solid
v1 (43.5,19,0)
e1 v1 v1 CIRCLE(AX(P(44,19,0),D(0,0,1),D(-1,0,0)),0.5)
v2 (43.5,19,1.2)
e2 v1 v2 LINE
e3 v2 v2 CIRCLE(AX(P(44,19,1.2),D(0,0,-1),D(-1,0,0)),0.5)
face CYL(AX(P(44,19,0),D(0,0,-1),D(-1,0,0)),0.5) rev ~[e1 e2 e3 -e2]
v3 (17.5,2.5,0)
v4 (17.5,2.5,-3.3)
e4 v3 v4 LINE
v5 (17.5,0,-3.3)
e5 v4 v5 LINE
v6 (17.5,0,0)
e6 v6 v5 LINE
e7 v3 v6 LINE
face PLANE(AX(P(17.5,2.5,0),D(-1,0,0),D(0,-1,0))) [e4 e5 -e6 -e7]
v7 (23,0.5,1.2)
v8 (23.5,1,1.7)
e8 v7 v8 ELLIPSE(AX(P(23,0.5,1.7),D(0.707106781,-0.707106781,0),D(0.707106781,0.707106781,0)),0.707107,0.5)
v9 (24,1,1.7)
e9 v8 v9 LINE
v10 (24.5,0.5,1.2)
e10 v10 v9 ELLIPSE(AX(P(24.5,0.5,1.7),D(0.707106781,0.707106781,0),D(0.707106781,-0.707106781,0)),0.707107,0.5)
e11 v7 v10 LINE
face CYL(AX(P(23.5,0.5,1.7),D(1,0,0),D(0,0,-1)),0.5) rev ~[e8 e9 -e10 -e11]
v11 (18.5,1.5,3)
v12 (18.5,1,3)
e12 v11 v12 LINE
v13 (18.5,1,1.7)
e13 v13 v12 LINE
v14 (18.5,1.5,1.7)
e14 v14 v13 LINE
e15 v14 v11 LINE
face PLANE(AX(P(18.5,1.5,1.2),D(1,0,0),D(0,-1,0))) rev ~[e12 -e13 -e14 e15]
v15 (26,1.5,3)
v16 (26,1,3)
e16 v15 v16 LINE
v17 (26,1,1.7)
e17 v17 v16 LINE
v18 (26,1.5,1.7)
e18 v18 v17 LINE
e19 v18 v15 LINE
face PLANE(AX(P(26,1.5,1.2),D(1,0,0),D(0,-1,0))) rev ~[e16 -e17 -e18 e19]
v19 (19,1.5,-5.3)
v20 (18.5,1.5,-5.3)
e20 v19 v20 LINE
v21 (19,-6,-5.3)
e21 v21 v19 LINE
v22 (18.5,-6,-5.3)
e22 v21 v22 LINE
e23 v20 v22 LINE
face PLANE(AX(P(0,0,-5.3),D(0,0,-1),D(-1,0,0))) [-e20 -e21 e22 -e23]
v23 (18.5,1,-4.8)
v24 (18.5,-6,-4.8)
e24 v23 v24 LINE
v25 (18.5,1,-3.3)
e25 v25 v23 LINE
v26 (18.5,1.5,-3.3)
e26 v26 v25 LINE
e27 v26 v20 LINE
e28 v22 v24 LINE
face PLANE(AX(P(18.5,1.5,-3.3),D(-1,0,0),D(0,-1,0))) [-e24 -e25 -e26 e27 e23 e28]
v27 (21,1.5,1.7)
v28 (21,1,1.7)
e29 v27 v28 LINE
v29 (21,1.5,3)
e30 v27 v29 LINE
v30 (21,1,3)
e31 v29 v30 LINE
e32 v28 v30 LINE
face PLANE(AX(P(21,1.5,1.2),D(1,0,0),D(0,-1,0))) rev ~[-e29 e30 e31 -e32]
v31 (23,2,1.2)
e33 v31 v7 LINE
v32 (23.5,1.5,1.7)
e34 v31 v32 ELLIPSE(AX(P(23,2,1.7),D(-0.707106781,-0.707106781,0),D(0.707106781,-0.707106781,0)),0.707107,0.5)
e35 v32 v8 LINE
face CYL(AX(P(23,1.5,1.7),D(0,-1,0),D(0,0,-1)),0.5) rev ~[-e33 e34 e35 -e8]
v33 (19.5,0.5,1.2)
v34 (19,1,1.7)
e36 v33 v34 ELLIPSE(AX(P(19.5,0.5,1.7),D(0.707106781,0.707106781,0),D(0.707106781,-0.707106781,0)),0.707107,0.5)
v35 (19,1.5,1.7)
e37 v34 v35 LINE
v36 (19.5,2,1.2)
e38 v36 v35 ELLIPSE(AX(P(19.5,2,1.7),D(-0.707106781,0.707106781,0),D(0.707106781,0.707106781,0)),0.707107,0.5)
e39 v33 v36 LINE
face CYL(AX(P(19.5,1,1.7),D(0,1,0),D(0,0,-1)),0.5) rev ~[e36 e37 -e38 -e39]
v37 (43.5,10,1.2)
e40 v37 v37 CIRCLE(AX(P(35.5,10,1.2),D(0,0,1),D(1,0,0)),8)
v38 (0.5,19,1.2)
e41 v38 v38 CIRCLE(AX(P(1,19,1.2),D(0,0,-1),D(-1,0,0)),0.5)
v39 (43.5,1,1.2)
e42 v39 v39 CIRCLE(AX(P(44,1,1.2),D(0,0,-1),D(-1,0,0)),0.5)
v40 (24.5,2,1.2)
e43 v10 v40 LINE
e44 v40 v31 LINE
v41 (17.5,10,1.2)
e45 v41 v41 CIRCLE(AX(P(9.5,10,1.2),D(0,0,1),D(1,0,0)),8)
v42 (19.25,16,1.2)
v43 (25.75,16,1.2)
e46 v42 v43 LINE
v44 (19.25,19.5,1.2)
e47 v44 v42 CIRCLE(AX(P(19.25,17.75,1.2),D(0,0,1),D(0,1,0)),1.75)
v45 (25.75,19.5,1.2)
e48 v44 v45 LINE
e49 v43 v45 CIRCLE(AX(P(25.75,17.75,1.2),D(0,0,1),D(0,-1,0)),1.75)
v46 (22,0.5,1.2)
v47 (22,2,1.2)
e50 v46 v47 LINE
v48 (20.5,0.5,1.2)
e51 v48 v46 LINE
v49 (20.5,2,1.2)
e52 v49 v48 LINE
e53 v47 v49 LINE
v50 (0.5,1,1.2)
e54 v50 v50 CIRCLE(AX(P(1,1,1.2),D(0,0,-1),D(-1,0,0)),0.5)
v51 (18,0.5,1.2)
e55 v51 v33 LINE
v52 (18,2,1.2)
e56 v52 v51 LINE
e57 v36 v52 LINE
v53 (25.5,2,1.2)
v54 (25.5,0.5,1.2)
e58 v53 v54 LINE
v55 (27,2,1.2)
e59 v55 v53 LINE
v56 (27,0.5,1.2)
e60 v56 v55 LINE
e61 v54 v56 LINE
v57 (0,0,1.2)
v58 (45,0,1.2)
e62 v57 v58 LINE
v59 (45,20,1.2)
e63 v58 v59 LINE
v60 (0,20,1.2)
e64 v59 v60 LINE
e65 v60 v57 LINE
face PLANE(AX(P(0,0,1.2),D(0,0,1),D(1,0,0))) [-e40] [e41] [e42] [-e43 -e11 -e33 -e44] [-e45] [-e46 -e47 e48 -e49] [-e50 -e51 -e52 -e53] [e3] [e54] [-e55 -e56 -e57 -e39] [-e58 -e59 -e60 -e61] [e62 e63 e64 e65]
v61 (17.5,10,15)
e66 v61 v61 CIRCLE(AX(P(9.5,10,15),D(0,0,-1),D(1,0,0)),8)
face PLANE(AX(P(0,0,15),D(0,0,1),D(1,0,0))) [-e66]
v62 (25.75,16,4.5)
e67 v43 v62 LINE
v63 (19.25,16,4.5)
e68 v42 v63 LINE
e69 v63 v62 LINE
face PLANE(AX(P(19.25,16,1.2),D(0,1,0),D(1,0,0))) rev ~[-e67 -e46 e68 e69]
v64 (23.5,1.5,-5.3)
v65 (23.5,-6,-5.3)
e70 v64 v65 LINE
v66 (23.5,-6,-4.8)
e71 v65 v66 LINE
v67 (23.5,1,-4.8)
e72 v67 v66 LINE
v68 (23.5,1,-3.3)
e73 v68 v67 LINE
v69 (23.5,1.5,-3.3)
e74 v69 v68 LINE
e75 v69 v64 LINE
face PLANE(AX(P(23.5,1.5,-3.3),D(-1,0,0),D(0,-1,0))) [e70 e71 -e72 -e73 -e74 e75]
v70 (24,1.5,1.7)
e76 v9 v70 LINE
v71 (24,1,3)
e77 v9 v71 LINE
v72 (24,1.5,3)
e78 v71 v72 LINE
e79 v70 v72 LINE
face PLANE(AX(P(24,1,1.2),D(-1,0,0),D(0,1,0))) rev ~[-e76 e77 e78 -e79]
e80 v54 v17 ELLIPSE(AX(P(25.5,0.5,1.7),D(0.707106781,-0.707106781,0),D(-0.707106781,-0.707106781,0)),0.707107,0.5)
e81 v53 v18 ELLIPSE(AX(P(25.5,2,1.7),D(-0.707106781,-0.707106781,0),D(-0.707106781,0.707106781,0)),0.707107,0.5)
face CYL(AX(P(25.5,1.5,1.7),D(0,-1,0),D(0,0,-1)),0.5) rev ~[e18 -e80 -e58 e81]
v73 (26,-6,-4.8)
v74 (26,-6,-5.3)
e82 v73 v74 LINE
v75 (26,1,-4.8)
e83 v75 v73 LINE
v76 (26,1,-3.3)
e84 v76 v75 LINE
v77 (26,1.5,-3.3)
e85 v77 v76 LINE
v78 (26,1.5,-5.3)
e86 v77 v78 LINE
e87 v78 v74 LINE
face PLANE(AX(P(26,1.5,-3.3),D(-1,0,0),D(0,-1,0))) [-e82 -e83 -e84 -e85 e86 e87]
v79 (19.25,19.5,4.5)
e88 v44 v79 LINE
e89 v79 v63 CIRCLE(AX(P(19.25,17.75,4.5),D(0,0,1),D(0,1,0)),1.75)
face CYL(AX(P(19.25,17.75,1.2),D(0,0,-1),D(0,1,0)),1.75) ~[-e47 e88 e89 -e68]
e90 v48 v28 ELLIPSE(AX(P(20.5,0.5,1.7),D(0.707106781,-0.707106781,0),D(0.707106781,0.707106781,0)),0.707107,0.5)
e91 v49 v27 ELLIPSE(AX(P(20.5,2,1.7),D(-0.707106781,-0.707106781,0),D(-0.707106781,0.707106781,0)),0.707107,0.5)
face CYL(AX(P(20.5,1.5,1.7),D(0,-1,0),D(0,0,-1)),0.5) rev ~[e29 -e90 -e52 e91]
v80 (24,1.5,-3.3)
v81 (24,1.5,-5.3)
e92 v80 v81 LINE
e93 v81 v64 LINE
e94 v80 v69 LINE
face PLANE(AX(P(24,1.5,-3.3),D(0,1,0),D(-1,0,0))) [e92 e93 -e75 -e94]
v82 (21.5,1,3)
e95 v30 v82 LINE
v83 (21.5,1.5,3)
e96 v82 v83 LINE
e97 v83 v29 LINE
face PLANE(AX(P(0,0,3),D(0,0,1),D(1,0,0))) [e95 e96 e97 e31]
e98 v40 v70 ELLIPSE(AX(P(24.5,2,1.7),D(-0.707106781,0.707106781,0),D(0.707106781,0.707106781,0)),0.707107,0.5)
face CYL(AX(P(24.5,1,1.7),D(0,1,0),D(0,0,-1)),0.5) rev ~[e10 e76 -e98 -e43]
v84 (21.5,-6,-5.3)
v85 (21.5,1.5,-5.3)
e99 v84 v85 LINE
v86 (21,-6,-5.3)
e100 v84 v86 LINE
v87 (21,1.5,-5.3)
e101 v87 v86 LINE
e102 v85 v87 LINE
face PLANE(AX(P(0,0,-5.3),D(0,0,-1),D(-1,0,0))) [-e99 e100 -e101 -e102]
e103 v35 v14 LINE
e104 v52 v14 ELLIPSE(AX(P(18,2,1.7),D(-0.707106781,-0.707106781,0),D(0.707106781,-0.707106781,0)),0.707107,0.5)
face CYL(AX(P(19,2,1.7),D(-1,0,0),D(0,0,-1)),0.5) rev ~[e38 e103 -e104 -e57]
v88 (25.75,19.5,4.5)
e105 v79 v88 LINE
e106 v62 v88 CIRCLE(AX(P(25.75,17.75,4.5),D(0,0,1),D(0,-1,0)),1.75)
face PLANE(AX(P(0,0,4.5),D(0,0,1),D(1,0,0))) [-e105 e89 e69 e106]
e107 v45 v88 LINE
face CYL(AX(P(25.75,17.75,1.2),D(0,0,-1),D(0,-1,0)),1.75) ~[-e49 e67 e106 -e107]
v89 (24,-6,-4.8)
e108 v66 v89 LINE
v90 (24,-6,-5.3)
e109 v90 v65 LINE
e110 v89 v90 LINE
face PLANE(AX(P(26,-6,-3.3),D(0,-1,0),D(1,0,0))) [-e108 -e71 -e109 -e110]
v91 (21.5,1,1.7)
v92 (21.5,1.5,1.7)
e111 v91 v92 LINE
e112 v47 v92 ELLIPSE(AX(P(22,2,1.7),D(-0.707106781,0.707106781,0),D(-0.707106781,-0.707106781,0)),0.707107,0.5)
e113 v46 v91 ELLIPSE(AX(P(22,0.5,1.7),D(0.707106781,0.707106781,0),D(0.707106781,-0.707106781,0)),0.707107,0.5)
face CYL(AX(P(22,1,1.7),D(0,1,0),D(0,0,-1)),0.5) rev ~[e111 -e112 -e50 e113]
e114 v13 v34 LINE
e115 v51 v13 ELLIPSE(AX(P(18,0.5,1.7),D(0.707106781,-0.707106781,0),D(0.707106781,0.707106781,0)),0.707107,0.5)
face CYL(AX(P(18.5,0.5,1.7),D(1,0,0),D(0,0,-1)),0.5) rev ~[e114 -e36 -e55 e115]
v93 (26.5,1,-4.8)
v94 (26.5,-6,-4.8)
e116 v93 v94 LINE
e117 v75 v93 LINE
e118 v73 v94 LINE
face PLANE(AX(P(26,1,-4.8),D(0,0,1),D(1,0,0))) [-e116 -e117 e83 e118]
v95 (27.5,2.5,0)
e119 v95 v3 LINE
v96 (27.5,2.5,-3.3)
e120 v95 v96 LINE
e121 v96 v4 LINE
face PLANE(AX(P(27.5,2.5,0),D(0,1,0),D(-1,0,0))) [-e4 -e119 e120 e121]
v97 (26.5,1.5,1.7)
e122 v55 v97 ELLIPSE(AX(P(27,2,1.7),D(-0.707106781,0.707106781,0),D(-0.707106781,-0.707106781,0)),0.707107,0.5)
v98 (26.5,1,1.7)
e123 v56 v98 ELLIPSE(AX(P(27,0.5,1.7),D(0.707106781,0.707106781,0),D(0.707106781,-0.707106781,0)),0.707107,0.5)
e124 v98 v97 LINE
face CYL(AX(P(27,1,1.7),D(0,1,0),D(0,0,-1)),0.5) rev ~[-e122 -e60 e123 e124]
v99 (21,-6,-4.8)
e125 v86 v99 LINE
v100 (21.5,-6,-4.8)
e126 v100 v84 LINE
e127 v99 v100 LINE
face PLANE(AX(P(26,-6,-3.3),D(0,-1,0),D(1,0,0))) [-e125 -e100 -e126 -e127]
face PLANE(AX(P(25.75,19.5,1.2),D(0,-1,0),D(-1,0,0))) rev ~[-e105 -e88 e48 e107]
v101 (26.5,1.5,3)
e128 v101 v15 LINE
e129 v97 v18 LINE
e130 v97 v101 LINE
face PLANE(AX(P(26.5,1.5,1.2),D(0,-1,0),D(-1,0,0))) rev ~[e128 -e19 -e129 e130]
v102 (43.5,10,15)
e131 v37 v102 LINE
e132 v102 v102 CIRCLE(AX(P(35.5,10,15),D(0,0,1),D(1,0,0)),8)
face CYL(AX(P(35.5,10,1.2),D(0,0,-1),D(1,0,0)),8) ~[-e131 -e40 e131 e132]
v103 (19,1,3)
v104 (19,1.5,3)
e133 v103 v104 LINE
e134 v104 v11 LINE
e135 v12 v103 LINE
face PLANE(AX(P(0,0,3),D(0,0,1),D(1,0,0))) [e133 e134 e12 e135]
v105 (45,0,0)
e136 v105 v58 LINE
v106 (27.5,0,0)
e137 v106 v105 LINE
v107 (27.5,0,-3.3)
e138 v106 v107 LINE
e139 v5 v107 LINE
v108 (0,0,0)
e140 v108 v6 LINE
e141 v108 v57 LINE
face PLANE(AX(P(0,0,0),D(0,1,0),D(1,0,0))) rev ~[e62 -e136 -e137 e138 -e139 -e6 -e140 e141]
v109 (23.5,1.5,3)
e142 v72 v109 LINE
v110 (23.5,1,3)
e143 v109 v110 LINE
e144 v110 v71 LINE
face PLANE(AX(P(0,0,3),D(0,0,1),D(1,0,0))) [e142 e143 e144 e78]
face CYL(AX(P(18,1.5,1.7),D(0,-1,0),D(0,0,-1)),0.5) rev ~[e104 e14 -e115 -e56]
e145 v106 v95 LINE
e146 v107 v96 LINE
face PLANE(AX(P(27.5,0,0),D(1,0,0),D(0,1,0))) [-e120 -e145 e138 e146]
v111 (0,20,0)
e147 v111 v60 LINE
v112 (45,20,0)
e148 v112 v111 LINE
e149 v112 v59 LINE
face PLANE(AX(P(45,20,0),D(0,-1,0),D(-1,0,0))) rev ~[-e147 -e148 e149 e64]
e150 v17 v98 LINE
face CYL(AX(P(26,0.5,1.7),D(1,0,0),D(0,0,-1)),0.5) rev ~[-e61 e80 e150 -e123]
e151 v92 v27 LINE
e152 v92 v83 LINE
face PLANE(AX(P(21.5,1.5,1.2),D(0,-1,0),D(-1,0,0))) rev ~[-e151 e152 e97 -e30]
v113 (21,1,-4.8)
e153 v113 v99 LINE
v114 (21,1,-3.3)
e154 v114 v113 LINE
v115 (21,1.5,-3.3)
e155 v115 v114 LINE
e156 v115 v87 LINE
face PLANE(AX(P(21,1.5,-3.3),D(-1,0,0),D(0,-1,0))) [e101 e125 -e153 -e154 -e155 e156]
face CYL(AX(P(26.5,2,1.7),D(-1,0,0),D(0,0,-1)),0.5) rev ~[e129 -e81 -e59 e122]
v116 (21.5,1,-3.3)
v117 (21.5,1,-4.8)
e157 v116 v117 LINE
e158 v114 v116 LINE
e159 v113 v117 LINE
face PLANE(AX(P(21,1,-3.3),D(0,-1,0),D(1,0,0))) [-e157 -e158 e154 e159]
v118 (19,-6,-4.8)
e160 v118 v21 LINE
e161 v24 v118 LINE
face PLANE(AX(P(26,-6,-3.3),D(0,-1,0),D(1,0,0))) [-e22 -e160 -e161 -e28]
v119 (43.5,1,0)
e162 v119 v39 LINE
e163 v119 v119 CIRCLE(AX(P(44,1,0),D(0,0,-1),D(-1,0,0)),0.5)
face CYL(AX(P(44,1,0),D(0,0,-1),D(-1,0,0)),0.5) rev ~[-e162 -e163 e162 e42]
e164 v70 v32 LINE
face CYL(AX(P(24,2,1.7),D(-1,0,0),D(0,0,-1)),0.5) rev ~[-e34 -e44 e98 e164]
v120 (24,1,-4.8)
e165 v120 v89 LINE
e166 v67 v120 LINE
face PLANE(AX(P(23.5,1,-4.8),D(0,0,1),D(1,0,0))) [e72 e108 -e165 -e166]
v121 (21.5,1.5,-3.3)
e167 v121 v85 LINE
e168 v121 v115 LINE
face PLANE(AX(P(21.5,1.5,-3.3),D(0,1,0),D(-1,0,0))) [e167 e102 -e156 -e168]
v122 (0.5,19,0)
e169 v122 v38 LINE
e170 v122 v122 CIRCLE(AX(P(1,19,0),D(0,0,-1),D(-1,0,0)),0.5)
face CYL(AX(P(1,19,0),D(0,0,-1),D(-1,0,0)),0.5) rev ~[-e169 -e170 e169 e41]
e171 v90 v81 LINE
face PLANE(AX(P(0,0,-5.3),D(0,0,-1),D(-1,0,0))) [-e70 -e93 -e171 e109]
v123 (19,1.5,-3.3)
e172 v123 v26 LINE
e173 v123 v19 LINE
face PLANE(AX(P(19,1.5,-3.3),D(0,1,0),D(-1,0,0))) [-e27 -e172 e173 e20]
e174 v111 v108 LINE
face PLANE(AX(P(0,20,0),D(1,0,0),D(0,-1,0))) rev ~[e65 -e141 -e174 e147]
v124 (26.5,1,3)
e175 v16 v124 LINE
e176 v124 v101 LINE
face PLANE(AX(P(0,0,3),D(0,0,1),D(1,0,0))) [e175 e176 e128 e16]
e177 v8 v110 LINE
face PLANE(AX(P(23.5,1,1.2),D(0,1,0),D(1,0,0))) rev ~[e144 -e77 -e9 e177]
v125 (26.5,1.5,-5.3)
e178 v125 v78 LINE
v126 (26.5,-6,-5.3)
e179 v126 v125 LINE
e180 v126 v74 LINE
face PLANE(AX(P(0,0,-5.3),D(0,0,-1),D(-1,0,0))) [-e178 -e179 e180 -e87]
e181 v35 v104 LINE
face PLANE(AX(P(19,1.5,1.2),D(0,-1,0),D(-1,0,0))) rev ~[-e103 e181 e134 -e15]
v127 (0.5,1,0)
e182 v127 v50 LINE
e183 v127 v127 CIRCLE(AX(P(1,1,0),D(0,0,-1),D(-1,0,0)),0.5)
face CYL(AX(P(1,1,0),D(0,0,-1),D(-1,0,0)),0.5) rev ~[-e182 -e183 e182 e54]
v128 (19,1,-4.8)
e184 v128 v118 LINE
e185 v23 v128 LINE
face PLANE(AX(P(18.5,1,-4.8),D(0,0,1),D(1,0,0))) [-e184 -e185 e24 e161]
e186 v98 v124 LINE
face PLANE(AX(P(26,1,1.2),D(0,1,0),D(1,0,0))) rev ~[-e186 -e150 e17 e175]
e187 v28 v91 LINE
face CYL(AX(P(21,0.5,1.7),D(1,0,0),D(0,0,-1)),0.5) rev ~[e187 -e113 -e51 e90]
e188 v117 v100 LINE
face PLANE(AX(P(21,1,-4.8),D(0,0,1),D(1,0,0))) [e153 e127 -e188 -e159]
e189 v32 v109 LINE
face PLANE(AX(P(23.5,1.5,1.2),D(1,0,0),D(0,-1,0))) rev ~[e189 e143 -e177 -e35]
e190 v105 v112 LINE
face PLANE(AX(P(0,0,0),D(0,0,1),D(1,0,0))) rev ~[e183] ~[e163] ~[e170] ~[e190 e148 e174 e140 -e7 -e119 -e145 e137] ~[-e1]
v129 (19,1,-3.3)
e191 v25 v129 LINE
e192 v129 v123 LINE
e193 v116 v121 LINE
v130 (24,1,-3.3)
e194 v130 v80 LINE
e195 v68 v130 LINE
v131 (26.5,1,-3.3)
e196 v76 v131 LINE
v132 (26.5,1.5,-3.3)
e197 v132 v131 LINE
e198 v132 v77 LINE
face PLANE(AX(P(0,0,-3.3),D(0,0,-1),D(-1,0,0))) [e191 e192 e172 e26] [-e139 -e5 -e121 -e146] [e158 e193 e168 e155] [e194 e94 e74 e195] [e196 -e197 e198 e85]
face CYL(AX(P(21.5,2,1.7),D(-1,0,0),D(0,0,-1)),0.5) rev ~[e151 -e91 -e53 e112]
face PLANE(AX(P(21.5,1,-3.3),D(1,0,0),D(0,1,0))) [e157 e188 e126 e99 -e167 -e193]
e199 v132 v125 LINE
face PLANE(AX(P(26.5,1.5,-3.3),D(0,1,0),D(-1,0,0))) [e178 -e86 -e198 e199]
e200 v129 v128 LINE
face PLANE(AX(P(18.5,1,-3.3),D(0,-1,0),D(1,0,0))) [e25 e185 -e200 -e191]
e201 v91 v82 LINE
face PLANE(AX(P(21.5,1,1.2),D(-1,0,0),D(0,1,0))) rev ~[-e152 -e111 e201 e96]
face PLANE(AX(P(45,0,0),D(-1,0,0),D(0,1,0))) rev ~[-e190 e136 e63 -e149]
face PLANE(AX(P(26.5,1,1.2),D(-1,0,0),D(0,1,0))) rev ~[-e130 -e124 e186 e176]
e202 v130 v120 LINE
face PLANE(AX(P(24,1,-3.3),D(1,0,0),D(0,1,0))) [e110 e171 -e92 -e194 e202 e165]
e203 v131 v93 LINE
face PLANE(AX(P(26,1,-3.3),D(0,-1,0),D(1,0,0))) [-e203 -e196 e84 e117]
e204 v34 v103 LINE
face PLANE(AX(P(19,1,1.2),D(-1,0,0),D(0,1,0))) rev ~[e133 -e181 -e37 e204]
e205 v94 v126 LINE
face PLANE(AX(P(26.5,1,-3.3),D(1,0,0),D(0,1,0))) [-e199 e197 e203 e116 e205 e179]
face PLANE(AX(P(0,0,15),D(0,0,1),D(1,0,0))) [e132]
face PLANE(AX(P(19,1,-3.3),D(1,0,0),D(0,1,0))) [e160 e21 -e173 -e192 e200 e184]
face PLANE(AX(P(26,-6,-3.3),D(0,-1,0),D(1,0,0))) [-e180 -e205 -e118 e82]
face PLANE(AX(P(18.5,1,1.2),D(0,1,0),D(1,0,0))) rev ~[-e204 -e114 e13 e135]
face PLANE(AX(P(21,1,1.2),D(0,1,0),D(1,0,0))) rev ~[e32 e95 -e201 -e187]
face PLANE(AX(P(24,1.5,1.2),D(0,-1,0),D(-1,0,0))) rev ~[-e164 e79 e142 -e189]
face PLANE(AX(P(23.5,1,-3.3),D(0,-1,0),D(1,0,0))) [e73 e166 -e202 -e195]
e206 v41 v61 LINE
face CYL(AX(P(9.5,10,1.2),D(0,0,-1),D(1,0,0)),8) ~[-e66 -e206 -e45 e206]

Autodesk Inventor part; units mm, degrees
ref_plane "YZ Plane" through (0, 0, 0) normal (1, 0, 0) x (0, 1, 0)
ref_plane "XZ Plane" through (0, 0, 0) normal (0, 1, 0) x (-1, 0, 0)
ref_plane "XY Plane" through (0, 0, 0) normal (0, 0, 1) x (1, 0, 0)
sketch "Эскиз1" plane through (0, 0, 0) normal (0, 0, 1) x (1, 0, 0)
  line L0 (0, 0) -> (45, 0)
  line L1 (45, 0) -> (45, 20)
  line L2 (45, 20) -> (0, 20)
  line L3 (0, 20) -> (0, 0)
  dimension "d0" = 45
  dimension "d1" = 20
extrude "Выдавливание1" add sketch "Эскиз1" along normal blind 1.2
sketch "Эскиз2" plane through (0, 0, 1.2) normal (0, 0, 1) x (1, 0, 0)
  line L0 (0, 20) -> (0, 0) projected
  line L1 (0, 10) -> (1.5, 10)
  line L2 (1.5, 10) -> (9.5, 10)
  circle A0 centre (9.5, 10) radius 8
  line L3 (45, 20) -> (0, 20) projected
  line L4 (22.5, 20) -> (22.5, 0)
  line L5 (0, 0) -> (45, 0) projected
  circle A1 centre (35.5, 10) radius 8
  dimension "d5" = 16
  dimension "d4" = 1.5
extrude "Выдавливание2" add sketch "Эскиз2" along normal blind 13.8 contours A0 | A1
sketch "Эскиз3" plane through (0, 0, 1.2) normal (0, 0, 1) x (1, 0, 0)
  line L0 (45, 20) -> (0, 20) projected
  line L1 (22.5, 20) -> (22.5, 19.5)
  line L2 (27.5, 17.75) -> (17.5, 17.75) construction
  line L3 (25.75, 19.5) -> (19.25, 19.5)
  line L4 (19.25, 16) -> (25.75, 16)
  arc A0 (25.75, 16) -> (25.75, 19.5) centre (25.75, 17.75) ccw
  arc A1 (19.25, 19.5) -> (19.25, 16) centre (19.25, 17.75) ccw
  point P0 (0, 0)
  point P1 (22.5, 17.75)
  dimension "d8" = 0.5
  dimension "d9" = 10
  dimension "d10" = 3.5
extrude "Выдавливание3" add sketch "Эскиз3" along normal blind 3.3
sketch "Эскиз8" plane through (0, 0, 0) normal (0, 0, -1) x (-1, 0, 0)
  line L0 (-45, 0) -> (-45, 20) projected
  line L1 (-45, 20) -> (-44, 20)
  line L2 (-45, 20) -> (0, 20) projected
  line L3 (-44, 20) -> (-44, 19)
  circle A0 centre (-44, 19) radius 0.5
  line L4 (-45, 10) -> (0, 10)
  line L5 (0, 20) -> (0, 0) projected
  line L6 (-22.5, 20) -> (-22.5, 0)
  line L7 (0, 0) -> (-45, 0) projected
  circle A1 centre (-44, 1) radius 0.5
  circle A2 centre (-1, 19) radius 0.5
  circle A3 centre (-1, 1) radius 0.5
  dimension "d41" = 1
  dimension "d42" = 1
  dimension "d43" = 1
extrude "Выдавливание8" cut sketch "Эскиз8" against normal through all contours A0 | A1 | A2 | A3
sketch "Эскиз4" plane through (0, 0, 0) normal (0, 0, -1) x (-1, 0, 0)
  line L0 (-27.5, 2.5) -> (-17.5, 2.5)
  line L1 (-17.5, 2.5) -> (-17.5, 0)
  line L2 (-17.5, 0) -> (-27.5, 0)
  line L3 (-27.5, 0) -> (-27.5, 2.5)
  line L4 (-27.5, 2.5) -> (-17.5, 0) construction
  line L5 (-17.5, 2.5) -> (-27.5, 0) construction
  line L6 (0, 0) -> (-45, 0) projected
  point P0 (-22.5, 1.25)
  point P1 (-22.5, 0)
  dimension "d13" = 10
  dimension "d14" = 2.5
extrude "Выдавливание4" add sketch "Эскиз4" along normal blind 3.3
sketch "Эскиз5" plane through (0, 0, -3.3) normal (0, 0, -1) x (-1, 0, 0)
  line L0 (-26.5, 1.5) -> (-26, 1.5)
  line L1 (-26, 1.5) -> (-26, 1)
  line L2 (-26, 1) -> (-26.5, 1)
  line L3 (-26.5, 1) -> (-26.5, 1.5)
  line L4 (-26.5, 1.25) -> (-27.5, 1.25)
  line L5 (-27.5, 2.5) -> (-27.5, 0) projected
  line L6 (-24, 1.5) -> (-23.5, 1.5)
  line L7 (-23.5, 1.5) -> (-23.5, 1)
  line L8 (-23.5, 1) -> (-24, 1)
  line L9 (-24, 1) -> (-24, 1.5)
  line L10 (-21.5, 1.5) -> (-21, 1.5)
  line L11 (-21, 1.5) -> (-21, 1)
  line L12 (-21, 1) -> (-21.5, 1)
  line L13 (-21.5, 1) -> (-21.5, 1.5)
  line L14 (-19, 1.5) -> (-18.5, 1.5)
  line L15 (-18.5, 1.5) -> (-18.5, 1)
  line L16 (-18.5, 1) -> (-19, 1)
  line L17 (-19, 1) -> (-19, 1.5)
  point P0 (0, 0)
  point P1 (-24, 1.25)
  point P2 (-21.5, 1.25)
  point P3 (-19, 1.25)
  dimension "d17" = 0.5
  dimension "d18" = 0.5
  dimension "d19" = 1
  dimension "d22" = 2.5
extrude "Выдавливание5" add sketch "Эскиз5" along normal blind 2
sketch "Эскиз6" plane through (26, 1, -3.3) normal (0, -1, 0) x (1, 0, 0)
  line L0 (0.5, -2) -> (0, -2) projected
  line L1 (0, 0) -> (0, -2) projected
  line L2 (0.5, -2) -> (0, -2)
  line L3 (0, -2) -> (0, -1.5)
  line L4 (0, -1.5) -> (0.5, -1.5)
  line L5 (0.5, -1.5) -> (0.5, -2)
  line L6 (-2, -2) -> (-2.5, -2)
  line L7 (-2.5, -2) -> (-2.5, -1.5)
  line L8 (-2.5, -1.5) -> (-2, -1.5)
  line L9 (-2, -1.5) -> (-2, -2)
  line L10 (-4.5, -2) -> (-5, -2)
  line L11 (-5, -2) -> (-5, -1.5)
  line L12 (-5, -1.5) -> (-4.5, -1.5)
  line L13 (-4.5, -1.5) -> (-4.5, -2)
  line L14 (-7, -2) -> (-7.5, -2)
  line L15 (-7.5, -2) -> (-7.5, -1.5)
  line L16 (-7.5, -1.5) -> (-7, -1.5)
  line L17 (-7, -1.5) -> (-7, -2)
  point P0 (-26, 3.3)
  dimension "d31" = 2.5
extrude "Выдавливание6" add sketch "Эскиз6" along normal blind 7
sketch "Эскиз7" plane through (0, 0, 1.2) normal (0, 0, 1) x (1, 0, 0)
  line L0 (26.5, 1.5) -> (26, 1.5) projected
  line L1 (26.5, 1) -> (26.5, 1.5) projected
  line L2 (26, 1.5) -> (26, 1) projected
  line L3 (26, 1) -> (26.5, 1) projected
  line L4 (21, 1) -> (21.5, 1) projected
  line L5 (21.5, 1) -> (21.5, 1.5) projected
  line L6 (21.5, 1.5) -> (21, 1.5) projected
  line L7 (21, 1.5) -> (21, 1) projected
  line L8 (26.5, 1.5) -> (26, 1.5) projected
  line L9 (26, 1.5) -> (26, 1) projected
  line L10 (26, 1) -> (26.5, 1) projected
  line L11 (26.5, 1) -> (26.5, 1.5) projected
  line L12 (23.5, 1) -> (24, 1) projected
  line L13 (24, 1) -> (24, 1.5) projected
  line L14 (24, 1.5) -> (23.5, 1.5) projected
  line L15 (23.5, 1.5) -> (23.5, 1) projected
  line L16 (18.5, 1) -> (19, 1) projected
  line L17 (19, 1) -> (19, 1.5) projected
  line L18 (19, 1.5) -> (18.5, 1.5) projected
  line L19 (18.5, 1.5) -> (18.5, 1) projected
  line L20 (17.5, 0) -> (17.5, 2.5) projected
  line L21 (17.5, 2.5) -> (27.5, 2.5) projected
  line L22 (27.5, 2.5) -> (27.5, 0) projected
  line L23 (27.5, 0) -> (17.5, 0) projected
  point P0 (0, 0)
extrude "Выдавливание7" add sketch "Эскиз7" along normal blind 1.8 contours L1 L3 L2 L0 | L7 L6 L5 L4 | L15 L14 L13 L12 | L19 L18 L17 L16
fillet "Сопряжение1" radius 0.5 16 edges at (21.25, 1.5, 1.2) (21.25, 1, 1.2) (21.5, 1.25, 1.2) (21, 1.25, 1.2) (18.75, 1, 1.2) (18.5, 1.25, 1.2) (19, 1.25, 1.2) (18.75, 1.5, 1.2) (23.75, 1, 1.2) (24, 1.25, 1.2) (23.5, 1.25, 1.2) (23.75, 1.5, 1.2) (26.25, 1.5, 1.2) (26, 1.25, 1.2) (26.25, 1, 1.2) (26.5, 1.25, 1.2)
properties part number "Ultrasonic HC-SRO4"
